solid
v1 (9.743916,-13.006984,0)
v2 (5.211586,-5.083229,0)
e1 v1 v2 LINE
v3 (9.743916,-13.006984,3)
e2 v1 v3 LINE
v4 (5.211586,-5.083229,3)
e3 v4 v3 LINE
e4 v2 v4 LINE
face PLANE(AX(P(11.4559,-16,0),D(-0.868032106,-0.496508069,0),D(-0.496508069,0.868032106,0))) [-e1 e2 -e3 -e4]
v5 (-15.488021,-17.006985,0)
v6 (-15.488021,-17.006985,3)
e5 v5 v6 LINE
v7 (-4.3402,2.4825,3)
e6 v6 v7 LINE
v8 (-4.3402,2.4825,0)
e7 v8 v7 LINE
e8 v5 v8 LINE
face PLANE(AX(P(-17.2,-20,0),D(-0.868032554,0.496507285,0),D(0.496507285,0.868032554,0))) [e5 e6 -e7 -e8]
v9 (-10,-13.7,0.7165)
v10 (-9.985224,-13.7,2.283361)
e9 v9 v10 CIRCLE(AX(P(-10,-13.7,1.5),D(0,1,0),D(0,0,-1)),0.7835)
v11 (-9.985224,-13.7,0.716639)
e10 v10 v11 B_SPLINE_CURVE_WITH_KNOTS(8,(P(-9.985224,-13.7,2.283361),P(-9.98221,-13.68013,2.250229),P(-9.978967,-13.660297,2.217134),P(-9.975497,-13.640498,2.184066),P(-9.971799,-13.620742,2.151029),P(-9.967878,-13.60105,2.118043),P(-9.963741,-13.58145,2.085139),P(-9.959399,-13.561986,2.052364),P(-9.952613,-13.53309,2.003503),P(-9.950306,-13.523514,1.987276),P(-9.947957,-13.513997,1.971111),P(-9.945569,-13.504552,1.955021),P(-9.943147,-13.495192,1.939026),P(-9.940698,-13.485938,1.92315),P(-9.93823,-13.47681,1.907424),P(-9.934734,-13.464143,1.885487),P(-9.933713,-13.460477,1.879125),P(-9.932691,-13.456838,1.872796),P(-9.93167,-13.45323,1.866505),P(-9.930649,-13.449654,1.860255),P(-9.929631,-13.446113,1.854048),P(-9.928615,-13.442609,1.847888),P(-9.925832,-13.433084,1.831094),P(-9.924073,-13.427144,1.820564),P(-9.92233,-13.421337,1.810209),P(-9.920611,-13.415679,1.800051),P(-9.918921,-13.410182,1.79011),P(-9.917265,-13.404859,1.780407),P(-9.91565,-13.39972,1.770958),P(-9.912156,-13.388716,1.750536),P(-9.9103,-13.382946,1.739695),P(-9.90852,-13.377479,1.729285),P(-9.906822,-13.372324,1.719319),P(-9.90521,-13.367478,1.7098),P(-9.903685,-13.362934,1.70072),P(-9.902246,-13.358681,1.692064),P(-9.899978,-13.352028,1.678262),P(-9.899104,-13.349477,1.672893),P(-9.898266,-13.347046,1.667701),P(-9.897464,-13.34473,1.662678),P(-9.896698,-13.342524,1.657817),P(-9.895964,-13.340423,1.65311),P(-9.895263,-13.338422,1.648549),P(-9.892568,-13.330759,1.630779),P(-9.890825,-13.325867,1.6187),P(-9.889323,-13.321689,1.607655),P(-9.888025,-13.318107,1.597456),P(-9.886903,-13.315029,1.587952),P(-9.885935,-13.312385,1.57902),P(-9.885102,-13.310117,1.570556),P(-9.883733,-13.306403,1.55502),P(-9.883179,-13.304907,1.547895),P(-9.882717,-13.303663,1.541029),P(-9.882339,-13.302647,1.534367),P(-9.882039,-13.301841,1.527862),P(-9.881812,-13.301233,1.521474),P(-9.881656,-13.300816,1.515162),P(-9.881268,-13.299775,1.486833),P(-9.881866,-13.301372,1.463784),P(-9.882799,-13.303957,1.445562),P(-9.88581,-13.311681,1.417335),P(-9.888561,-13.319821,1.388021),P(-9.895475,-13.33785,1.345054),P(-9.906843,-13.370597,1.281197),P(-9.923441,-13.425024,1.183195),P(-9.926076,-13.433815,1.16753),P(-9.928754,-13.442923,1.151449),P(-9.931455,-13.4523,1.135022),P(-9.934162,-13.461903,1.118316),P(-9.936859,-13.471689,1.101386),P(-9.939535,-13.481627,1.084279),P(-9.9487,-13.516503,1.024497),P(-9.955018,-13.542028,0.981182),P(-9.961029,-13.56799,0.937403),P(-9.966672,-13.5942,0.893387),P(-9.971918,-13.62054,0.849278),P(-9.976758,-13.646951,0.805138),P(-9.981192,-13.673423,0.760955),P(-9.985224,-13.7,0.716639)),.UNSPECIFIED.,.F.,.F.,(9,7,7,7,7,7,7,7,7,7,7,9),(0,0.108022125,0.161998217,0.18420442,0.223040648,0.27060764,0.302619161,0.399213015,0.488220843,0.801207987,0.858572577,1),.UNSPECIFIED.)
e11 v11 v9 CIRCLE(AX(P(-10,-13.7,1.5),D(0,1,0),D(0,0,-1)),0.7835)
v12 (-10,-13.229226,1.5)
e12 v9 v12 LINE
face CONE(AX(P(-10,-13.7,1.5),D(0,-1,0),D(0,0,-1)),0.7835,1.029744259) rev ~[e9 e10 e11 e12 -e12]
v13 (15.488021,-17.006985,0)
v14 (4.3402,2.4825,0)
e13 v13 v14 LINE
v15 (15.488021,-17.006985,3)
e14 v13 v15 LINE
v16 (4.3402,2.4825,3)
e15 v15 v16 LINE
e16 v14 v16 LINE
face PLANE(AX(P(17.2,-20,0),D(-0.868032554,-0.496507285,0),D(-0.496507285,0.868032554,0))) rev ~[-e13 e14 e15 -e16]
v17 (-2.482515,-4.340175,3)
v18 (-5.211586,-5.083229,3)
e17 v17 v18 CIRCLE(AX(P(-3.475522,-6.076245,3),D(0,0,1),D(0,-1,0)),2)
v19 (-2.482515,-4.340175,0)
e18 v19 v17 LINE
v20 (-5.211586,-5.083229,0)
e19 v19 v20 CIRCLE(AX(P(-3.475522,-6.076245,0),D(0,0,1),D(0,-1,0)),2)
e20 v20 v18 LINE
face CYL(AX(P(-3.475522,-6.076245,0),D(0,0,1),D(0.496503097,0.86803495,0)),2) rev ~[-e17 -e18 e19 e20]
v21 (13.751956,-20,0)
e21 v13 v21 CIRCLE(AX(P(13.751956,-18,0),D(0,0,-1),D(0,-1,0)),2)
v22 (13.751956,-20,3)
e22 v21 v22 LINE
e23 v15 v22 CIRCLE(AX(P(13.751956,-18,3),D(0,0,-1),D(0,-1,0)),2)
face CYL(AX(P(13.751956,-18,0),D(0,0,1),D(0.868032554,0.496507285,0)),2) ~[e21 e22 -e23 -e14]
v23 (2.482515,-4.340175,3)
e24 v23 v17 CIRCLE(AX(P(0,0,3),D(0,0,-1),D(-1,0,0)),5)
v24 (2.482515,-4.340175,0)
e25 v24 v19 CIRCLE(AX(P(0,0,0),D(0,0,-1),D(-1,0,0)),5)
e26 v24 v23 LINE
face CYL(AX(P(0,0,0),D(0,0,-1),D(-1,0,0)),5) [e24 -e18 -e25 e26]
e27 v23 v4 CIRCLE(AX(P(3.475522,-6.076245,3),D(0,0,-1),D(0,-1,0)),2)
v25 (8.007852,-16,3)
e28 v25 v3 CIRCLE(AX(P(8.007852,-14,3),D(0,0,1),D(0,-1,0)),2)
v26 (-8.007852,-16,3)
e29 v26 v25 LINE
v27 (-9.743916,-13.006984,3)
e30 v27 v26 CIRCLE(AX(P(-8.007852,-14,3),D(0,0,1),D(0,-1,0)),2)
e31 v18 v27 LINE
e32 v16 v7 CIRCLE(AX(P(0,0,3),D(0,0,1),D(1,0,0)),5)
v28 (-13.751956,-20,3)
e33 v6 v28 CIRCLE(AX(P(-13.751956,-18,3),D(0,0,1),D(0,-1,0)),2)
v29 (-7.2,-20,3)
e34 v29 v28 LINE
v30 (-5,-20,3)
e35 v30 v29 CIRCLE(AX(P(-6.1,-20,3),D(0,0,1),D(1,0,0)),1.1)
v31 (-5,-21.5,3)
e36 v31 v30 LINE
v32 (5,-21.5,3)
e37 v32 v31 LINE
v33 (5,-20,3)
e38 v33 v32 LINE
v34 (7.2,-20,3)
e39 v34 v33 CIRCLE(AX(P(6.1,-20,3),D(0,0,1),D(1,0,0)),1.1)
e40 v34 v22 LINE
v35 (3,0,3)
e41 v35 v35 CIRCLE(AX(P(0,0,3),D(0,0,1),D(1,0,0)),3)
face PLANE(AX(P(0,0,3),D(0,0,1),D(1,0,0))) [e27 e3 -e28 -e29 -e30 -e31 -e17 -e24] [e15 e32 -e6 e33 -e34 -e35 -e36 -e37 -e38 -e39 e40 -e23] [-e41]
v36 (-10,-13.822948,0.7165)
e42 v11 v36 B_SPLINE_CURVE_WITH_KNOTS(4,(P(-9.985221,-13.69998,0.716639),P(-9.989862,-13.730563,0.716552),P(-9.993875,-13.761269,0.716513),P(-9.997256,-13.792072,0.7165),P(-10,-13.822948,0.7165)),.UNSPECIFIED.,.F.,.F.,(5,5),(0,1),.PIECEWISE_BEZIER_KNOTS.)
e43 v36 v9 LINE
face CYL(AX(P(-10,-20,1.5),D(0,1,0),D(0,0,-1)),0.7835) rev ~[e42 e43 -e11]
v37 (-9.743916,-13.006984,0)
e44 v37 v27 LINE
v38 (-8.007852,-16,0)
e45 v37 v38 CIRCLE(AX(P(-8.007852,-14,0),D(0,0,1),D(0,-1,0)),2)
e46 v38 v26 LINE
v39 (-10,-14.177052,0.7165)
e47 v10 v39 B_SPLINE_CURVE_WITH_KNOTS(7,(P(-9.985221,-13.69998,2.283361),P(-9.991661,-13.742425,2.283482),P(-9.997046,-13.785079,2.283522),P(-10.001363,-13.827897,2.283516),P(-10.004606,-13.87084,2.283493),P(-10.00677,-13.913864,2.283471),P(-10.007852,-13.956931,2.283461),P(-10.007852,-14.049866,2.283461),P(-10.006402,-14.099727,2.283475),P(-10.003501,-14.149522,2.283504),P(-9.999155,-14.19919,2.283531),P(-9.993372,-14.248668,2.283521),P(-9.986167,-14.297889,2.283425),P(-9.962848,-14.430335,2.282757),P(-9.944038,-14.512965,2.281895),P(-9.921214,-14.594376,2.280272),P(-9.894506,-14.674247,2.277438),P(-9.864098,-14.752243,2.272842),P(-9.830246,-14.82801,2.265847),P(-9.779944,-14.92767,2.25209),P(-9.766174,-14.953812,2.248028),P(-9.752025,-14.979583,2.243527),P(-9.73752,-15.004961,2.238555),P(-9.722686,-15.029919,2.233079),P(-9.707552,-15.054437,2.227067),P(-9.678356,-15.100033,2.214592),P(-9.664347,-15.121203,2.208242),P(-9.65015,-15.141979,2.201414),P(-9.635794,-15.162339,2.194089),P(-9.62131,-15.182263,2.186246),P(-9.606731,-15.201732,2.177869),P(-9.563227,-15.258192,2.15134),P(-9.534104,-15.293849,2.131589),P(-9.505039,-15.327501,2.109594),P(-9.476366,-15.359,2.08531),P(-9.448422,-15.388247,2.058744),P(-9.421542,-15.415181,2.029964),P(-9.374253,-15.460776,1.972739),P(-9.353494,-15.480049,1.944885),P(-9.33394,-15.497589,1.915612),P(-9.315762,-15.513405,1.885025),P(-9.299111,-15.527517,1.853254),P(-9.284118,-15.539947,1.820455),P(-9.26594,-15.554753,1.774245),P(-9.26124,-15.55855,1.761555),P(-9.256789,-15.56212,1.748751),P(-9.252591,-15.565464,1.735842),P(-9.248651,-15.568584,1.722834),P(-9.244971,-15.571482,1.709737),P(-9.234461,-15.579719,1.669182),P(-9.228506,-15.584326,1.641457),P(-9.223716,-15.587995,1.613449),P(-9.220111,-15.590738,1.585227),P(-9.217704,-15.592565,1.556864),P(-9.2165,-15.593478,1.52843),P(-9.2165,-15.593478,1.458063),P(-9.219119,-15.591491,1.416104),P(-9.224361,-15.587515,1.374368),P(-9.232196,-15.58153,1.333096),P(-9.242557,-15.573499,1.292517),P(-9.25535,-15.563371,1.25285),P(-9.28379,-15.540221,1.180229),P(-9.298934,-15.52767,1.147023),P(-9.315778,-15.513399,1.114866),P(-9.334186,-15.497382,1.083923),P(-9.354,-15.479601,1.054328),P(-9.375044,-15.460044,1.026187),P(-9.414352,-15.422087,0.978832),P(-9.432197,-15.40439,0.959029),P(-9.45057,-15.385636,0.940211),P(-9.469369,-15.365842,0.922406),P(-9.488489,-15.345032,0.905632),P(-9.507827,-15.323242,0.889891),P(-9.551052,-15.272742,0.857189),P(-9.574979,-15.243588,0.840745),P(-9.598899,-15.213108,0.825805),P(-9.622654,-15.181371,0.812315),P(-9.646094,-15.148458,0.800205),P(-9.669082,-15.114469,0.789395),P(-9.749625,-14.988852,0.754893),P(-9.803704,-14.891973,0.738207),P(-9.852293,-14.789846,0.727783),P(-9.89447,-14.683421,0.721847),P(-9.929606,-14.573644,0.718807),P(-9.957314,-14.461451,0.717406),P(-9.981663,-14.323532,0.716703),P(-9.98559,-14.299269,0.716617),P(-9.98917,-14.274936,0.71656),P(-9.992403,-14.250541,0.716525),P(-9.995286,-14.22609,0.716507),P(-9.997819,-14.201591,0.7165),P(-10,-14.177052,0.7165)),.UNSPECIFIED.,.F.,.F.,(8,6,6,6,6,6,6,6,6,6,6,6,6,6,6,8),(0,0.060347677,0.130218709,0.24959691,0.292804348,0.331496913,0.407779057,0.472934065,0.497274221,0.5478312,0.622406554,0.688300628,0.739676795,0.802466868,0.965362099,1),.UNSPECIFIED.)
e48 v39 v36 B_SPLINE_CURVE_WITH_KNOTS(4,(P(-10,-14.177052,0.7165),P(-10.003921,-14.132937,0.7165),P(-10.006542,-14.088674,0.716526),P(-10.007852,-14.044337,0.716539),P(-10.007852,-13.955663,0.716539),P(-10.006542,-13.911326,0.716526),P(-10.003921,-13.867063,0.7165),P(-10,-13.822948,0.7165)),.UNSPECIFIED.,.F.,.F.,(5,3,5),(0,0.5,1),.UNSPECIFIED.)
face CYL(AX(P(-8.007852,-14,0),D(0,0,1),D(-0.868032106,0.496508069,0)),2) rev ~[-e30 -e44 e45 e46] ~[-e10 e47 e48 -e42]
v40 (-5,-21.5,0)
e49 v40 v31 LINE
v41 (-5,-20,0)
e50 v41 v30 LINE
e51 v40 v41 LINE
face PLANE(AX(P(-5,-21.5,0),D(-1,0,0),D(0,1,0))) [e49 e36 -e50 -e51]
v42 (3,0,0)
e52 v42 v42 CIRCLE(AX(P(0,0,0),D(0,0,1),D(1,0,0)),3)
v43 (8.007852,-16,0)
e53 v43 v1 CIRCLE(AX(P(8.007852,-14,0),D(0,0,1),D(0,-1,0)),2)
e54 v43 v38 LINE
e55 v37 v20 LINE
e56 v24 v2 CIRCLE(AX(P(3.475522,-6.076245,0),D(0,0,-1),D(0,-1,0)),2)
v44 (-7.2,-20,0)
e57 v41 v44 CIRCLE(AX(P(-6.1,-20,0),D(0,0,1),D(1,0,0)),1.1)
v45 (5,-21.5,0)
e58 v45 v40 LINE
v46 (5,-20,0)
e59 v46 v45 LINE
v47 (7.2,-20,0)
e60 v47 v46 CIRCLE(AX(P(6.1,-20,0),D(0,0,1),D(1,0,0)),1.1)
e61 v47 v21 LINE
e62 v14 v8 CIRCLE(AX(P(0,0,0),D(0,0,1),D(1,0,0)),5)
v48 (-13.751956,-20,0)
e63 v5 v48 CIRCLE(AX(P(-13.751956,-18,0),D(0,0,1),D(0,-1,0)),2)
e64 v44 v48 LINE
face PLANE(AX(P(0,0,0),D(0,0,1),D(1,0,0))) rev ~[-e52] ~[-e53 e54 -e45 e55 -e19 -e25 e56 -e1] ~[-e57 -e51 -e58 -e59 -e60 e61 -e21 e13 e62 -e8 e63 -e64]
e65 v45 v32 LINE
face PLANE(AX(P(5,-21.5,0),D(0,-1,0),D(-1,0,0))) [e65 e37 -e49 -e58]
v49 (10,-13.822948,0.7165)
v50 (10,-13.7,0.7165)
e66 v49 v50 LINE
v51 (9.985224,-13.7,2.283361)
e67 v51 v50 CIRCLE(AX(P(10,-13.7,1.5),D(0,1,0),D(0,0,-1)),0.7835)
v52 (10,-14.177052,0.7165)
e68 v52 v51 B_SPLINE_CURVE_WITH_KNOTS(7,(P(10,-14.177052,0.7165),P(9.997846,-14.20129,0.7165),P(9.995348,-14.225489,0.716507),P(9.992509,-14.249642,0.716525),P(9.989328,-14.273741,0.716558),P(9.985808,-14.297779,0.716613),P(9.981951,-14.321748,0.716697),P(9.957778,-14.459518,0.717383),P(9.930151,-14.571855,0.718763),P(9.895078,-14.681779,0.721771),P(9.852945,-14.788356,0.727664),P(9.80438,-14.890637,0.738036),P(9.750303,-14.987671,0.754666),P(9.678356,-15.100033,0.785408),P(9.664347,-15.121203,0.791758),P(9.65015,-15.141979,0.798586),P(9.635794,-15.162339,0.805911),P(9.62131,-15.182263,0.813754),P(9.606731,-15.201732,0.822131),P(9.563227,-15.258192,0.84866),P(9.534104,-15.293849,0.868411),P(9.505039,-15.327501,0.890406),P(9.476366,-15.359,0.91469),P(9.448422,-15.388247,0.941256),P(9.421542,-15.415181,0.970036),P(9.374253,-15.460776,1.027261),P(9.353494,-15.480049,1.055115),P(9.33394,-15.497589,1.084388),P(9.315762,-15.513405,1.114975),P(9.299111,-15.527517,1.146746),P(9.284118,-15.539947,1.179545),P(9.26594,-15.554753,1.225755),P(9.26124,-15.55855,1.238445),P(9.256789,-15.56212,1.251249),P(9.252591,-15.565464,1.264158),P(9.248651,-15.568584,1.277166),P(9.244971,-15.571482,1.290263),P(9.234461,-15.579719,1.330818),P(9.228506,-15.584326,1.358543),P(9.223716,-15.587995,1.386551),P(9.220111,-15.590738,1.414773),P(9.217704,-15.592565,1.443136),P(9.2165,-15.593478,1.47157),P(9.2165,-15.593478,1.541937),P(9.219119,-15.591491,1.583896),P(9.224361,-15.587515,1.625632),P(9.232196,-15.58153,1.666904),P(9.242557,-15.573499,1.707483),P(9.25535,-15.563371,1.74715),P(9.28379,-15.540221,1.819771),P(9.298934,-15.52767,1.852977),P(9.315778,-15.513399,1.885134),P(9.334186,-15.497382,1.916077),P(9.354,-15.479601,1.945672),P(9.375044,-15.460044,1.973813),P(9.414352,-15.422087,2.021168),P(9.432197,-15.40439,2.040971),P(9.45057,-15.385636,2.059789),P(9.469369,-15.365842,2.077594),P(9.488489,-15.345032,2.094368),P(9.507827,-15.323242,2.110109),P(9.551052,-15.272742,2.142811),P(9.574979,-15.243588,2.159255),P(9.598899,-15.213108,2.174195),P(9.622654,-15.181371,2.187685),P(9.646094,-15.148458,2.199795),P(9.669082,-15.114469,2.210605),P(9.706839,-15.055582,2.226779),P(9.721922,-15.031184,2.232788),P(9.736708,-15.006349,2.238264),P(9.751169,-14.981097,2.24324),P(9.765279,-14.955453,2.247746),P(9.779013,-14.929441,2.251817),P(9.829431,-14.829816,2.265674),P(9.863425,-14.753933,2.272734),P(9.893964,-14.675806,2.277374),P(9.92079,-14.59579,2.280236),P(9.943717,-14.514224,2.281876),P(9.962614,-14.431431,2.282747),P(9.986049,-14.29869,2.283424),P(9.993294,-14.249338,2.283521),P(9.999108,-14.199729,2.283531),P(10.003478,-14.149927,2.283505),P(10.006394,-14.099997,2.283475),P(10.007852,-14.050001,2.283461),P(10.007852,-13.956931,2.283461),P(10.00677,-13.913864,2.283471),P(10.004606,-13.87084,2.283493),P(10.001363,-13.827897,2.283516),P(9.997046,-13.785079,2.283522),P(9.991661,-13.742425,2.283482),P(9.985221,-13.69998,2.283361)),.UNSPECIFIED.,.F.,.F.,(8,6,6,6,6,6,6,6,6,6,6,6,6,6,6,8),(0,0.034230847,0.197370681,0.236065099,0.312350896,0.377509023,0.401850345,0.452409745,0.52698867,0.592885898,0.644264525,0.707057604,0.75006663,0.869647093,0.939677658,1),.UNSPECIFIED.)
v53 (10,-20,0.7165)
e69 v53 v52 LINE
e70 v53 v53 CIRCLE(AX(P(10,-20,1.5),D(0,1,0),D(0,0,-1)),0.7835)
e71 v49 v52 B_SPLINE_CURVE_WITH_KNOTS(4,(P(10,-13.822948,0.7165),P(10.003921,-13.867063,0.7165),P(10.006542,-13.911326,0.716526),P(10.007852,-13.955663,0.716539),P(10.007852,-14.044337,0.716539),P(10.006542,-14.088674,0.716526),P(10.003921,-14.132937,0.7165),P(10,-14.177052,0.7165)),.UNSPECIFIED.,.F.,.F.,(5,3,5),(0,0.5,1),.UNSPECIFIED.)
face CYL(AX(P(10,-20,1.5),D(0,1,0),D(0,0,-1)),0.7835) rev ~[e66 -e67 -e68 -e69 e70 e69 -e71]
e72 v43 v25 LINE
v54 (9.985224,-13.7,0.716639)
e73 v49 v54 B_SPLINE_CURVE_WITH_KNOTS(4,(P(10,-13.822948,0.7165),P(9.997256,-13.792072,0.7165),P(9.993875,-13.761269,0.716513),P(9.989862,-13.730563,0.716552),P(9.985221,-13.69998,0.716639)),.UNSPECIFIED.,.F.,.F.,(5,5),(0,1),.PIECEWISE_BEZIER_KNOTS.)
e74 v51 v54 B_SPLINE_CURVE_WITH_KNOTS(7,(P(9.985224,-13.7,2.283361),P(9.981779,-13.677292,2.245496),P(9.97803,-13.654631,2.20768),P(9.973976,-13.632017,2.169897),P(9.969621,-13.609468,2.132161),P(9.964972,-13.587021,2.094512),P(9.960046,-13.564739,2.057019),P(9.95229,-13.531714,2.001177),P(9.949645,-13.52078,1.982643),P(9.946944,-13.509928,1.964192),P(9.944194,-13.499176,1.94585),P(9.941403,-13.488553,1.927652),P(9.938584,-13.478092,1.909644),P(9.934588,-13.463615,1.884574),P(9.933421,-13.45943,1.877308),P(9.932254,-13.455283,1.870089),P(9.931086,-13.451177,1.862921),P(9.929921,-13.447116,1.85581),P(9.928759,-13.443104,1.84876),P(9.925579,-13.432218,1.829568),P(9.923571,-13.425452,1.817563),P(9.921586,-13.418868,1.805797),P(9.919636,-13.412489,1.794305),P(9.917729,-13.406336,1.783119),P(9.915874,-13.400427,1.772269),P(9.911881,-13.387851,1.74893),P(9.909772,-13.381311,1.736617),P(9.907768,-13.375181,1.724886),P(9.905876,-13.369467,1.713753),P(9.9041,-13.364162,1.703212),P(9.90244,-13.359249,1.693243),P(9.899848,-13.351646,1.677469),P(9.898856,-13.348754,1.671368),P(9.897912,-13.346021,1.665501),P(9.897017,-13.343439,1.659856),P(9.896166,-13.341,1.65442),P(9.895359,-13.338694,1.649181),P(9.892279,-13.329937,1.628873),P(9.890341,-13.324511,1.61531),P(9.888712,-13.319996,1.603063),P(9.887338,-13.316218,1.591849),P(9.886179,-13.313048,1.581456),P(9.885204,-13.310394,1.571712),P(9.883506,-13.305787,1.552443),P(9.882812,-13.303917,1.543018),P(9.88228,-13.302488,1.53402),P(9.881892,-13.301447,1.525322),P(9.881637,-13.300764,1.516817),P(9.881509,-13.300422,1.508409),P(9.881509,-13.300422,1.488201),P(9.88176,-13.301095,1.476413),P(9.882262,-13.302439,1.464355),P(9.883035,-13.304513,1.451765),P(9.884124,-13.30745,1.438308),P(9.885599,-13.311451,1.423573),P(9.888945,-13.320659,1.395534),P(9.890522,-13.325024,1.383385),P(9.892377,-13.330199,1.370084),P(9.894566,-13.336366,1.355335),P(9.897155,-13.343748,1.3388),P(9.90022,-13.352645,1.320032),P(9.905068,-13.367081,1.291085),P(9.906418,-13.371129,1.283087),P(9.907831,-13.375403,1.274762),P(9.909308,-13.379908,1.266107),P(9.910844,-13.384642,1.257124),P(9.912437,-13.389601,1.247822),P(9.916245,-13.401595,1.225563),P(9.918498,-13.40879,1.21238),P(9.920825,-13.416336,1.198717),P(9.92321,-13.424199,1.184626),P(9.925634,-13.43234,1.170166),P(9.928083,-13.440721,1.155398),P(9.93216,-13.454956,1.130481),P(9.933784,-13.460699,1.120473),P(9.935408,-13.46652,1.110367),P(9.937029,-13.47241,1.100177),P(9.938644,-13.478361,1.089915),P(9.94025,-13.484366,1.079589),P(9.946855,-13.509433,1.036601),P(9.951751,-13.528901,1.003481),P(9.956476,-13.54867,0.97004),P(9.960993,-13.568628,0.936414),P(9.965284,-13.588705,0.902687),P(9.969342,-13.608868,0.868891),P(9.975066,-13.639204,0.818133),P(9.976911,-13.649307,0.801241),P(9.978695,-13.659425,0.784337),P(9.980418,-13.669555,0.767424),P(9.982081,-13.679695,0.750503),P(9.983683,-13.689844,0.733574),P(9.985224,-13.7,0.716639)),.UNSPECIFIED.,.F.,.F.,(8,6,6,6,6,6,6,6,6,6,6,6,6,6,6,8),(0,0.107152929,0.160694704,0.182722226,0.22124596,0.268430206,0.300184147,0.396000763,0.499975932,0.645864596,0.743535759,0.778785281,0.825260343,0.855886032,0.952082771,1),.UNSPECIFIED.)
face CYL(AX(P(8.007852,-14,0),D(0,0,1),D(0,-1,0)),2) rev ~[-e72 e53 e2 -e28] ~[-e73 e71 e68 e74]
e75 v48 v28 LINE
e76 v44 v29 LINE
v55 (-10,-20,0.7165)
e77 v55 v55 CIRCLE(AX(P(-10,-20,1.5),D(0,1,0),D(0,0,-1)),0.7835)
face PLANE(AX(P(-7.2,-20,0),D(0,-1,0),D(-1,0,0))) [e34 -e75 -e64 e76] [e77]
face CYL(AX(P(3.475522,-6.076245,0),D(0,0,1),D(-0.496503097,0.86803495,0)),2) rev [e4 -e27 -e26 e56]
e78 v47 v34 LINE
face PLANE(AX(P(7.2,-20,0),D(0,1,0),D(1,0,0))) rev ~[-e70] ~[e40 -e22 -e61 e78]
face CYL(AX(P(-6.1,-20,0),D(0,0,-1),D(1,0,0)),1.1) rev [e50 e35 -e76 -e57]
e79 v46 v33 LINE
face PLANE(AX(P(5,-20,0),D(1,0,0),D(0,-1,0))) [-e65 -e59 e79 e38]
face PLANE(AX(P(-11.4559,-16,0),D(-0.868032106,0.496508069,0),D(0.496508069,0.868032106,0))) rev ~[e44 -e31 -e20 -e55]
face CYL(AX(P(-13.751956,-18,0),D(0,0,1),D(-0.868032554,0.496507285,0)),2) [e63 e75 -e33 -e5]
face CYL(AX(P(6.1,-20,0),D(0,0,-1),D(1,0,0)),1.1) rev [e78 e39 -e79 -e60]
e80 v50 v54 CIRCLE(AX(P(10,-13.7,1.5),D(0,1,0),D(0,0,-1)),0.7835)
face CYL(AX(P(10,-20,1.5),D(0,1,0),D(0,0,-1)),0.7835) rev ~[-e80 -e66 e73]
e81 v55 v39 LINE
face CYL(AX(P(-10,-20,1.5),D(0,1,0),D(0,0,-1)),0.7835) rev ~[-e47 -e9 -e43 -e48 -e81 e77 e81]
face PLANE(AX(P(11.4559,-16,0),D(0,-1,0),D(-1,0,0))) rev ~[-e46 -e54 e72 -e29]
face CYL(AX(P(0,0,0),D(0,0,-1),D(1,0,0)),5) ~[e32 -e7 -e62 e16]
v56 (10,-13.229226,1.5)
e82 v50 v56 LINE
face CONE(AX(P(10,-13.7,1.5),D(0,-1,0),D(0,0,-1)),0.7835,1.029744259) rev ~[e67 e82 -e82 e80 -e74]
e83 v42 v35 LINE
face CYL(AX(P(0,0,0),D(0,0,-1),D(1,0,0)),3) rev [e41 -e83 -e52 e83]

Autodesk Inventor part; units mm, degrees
ref_plane "YZ Plane" through (0, 0, 0) normal (1, 0, 0) x (0, 1, 0)
ref_plane "XZ Plane" through (0, 0, 0) normal (0, 1, 0) x (-1, 0, 0)
ref_plane "XY Plane" through (0, 0, 0) normal (0, 0, 1) x (1, 0, 0)
sketch "スケッチ1" plane through (0, 0, 0) normal (0, 0, 1) x (1, 0, 0)
  circle A0 centre (0, 0) radius 3
  circle A1 centre (0, 0) radius 5
  line L0 (-5, -20) -> (5, -20)
  line L1 (5, -20) -> (5, -21.5)
  line L2 (5, -21.5) -> (-5, -21.5)
  line L3 (-5, -21.5) -> (-5, -20)
  circle A2 centre (-6.1, -20) radius 1.1
  line L4 (0, 0) -> (0, -20) construction
  circle A3 centre (6.1, -20) radius 1.1
  line L5 (-7.2, -20) -> (-17.2, -20)
  line L6 (-17.2, -20) -> (-4.3402, 2.4825)
  line L7 (7.2, -20) -> (17.2, -20)
  line L8 (17.2, -20) -> (4.3402, 2.4825)
  point P0 (0, -21.5)
  point P1 (4.3402, 2.4825)
  dimension "d1" = 10
  dimension "d0" = 6
  dimension "d2" = 10
  dimension "d3" = 1.5
  dimension "d4" = 2.2
  dimension "d5" = 20
  dimension "d6" = 10
extrude "押し出し1" add sketch "スケッチ1" along normal blind 3 contours A1 | A1 L8 L7 A3 L0 A2 L5 L6 | L1 L2 L3 L0
fillet "フィレット1" radius 2 2 edges at (-17.2, -20, 1.5) (17.2, -20, 1.5)
sketch "スケッチ3" plane through (0, 0, 0) normal (0, 0, -1) x (-1, 0, 0)
  arc A0 (-15.488, -17.007) -> (-13.752, -20) centre (-13.752, -18) ccw projected
  line L0 (-7.2, -20) -> (-13.752, -20) projected
  arc A1 (-5, -20) -> (-7.2, -20) centre (-6.1, -20) ccw projected
  line L1 (-5, -21.5) -> (-5, -20) projected
  line L2 (5, -21.5) -> (-5, -21.5) projected
  line L3 (5, -20) -> (5, -21.5) projected
  arc A2 (7.2, -20) -> (5, -20) centre (6.1, -20) ccw projected
  line L4 (13.752, -20) -> (7.2, -20) projected
  arc A3 (13.752, -20) -> (15.488, -17.007) centre (13.752, -18) ccw projected
  line L5 (4.3402, 2.4825) -> (15.488, -17.007) projected
  arc A4 (4.3402, 2.4825) -> (-4.3402, 2.4825) centre (0, 0) ccw projected
  line L6 (-15.488, -17.007) -> (-4.3402, 2.4825) projected
  circle A5 centre (0, 0) radius 3 projected
  line L7 (-11.4559, -16) -> (11.4559, -16)
  line L8 (11.4559, -16) -> (4.0113, -2.9848)
  line L9 (-11.4559, -16) -> (-4.0113, -2.9848)
  line L10 (-15.488, -17.007) -> (-4.3402, 2.4825) projected
  circle A6 centre (0, 0) radius 5
  line L11 (5, -21.5) -> (-5, -21.5) projected
  arc A7 (4.3402, 2.4825) -> (-4.3402, 2.4825) centre (0, 0) ccw projected
  point P0 (0, -21.5)
  point P1 (0, -16)
  point P2 (0, -21.5)
  dimension "d19" = 4
  dimension "d20" = 3
extrude "押し出し2" cut sketch "スケッチ3" against normal through all contours A6 L8 L7 L9
fillet "フィレット2" radius 2 4 edges at (-4.0113, -2.9848, 1.5) (4.0113, -2.9848, 1.5) (-11.4559, -16, 1.5) (11.4559, -16, 1.5)
sketch "スケッチ2" plane through (-17.2, -20, 0) normal (0, -1, 0) x (1, 0, 0)
  line L0 (12.2, 0) -> (12.2, 3) projected
  line L1 (22.2, 0) -> (22.2, 3) projected
  point P0 (17.2, 0)
  point P1 (7.2, 1.5)
  point P2 (27.2, 1.5)
  point P3 (12.2, 1.5)
  point P4 (22.2, 1.5)
  point P5 (12.2, 1.5)
  point P6 (22.2, 1.5)
  dimension "d9" = 5
  dimension "d10" = 5
hole "穴1" at (-10, -20, 1.5) at (10, -20, 1.5) direction (0, 1, 0) diameter 1.567 depth 6.3 tip angle 118 thread size "M2x0.4" class "6H" standard "ISO Metric profile"
sketch "スケッチ4" plane through (0, 0, 0) normal (0, 0, -1) x (-1, 0, 0)
  line L0 (5.405, -15.9) -> (-14.4109, -15.9) construction
  arc A0 (-15.5215, -12.2367) -> (-14.4109, -15.9) centre (-14.4109, -13.9) ccw construction
  line L1 (-15.5215, -12.2367) -> (-4.1487, -4.643) construction
  arc A1 (-2.1701, -4.5045) -> (-4.1487, -4.643) centre (-3.0381, -6.3063) ccw construction
  arc A2 (-2.1701, -4.5045) -> (2.4825, -4.3402) centre (0, 0) ccw construction
  arc A3 (5.2116, -5.0832) -> (2.4825, -4.3402) centre (3.4756, -6.0762) ccw construction
  line L2 (5.2116, -5.0832) -> (7.3308, -8.7882) construction
  arc A4 (7.377, -10.6888) -> (7.3308, -8.7882) centre (5.5948, -9.7812) ccw projected
  arc A5 (7.377, -10.6888) -> (7.2631, -13.1601) centre (10.0503, -12.0503) ccw projected
  arc A6 (5.405, -15.9) -> (7.2631, -13.1601) centre (5.405, -13.9) ccw projected
  line L3 (4.3402, 2.4825) -> (9.529, -6.589) construction
  arc A7 (4.3402, 2.4825) -> (0, 5) centre (0, 0) ccw construction
  line L4 (-8, 5) -> (0, 5) construction
  arc A8 (-8, 5) -> (-10.7765, 4.1583) centre (-8, 0) ccw construction
  line L5 (-33.2416, -10.8417) -> (-10.7765, 4.1583) construction
  arc A9 (-33.2416, -10.8417) -> (-30.4651, -20) centre (-30.4651, -15) ccw construction
  line L6 (-7.2, -20) -> (-30.4651, -20) construction
  arc A10 (-5, -20) -> (-7.2, -20) centre (-6.1, -20) ccw construction
  line L7 (-5, -21.5) -> (-5, -20) construction
  line L8 (5, -21.5) -> (-5, -21.5) construction
  line L9 (5, -20) -> (5, -21.5) construction
  arc A11 (7.2, -20) -> (5, -20) centre (6.1, -20) ccw construction
  line L10 (15, -20) -> (7.2, -20) projected
  arc A12 (15, -20) -> (17.1213, -19.1213) centre (15, -17) ccw projected
  line L11 (17.1213, -19.1213) -> (22.0711, -14.1716) projected
  arc A13 (22.0711, -14.1716) -> (22.0711, -9.9289) centre (19.9497, -12.0503) ccw projected
  arc A14 (22.0711, -9.9289) -> (11.8876, -7.4967) centre (15, -17) ccw projected
  arc A15 (9.529, -6.589) -> (11.8876, -7.4967) centre (11.2651, -5.596) ccw projected
  arc A16 (9.2724, -11.2724) -> (10.8281, -12.8281) centre (10.0503, -12.0503) ccw projected
  arc A17 (20.7276, -11.2724) -> (9.2724, -11.2724) centre (15, -17) ccw projected
  arc A18 (19.1719, -12.8281) -> (20.7276, -11.2724) centre (19.9497, -12.0503) ccw projected
  arc A19 (19.1719, -12.8281) -> (10.8281, -12.8281) centre (15, -17) ccw projected
  line L12 (-9.6659, 2.495) -> (-32.131, -12.505) construction
  arc A20 (-6.3341, -2.495) -> (-9.6659, 2.495) centre (-8, 0) ccw construction
  line L13 (-28.7992, -17.495) -> (-6.3341, -2.495) construction
  arc A21 (-32.131, -12.505) -> (-28.7992, -17.495) centre (-30.4651, -15) ccw construction
  circle A22 centre (0, 0) radius 3 construction
  circle A23 centre (15, -17) radius 1.1 projected
  line L14 (5.405, -15.9) -> (5.405, -16)
  line L15 (8.0079, -16) -> (-8.0079, -16) projected
  arc A24 (-2.4825, -4.3402) -> (2.4825, -4.3402) centre (0, 0) ccw projected
  arc A25 (5.2116, -5.0832) -> (2.4825, -4.3402) centre (3.4756, -6.0762) ccw projected
  line L16 (5.2116, -5.0832) -> (9.744, -13.007) projected
  arc A26 (8.0079, -16) -> (9.744, -13.007) centre (8.0079, -14) ccw projected
  line L17 (8.0079, -16) -> (-8.0079, -16) projected
  arc A27 (-9.744, -13.007) -> (-8.0079, -16) centre (-8.0079, -14) ccw projected
  line L18 (-9.744, -13.007) -> (-5.2116, -5.0832) projected
  arc A28 (-2.4825, -4.3402) -> (-5.2116, -5.0832) centre (-3.4756, -6.0762) ccw projected
  arc A29 (-15.488, -17.007) -> (-13.752, -20) centre (-13.752, -18) ccw projected
  line L19 (-7.2, -20) -> (-13.752, -20) projected
  arc A30 (-5, -20) -> (-7.2, -20) centre (-6.1, -20) ccw projected
  line L20 (-5, -21.5) -> (-5, -20) projected
  line L21 (5, -21.5) -> (-5, -21.5) projected
  line L22 (5, -20) -> (5, -21.5) projected
  arc A31 (7.2, -20) -> (5, -20) centre (6.1, -20) ccw projected
  line L23 (13.752, -20) -> (7.2, -20) projected
  arc A32 (13.752, -20) -> (15.488, -17.007) centre (13.752, -18) ccw projected
  line L24 (4.3402, 2.4825) -> (15.488, -17.007) projected
  arc A33 (4.3402, 2.4825) -> (-4.3402, 2.4825) centre (0, 0) ccw projected
  line L25 (-15.488, -17.007) -> (-4.3402, 2.4825) projected
  circle A34 centre (0, 0) radius 3 projected
  point P0 (9.529, -6.589)
  point P1 (11.3484, -9.7698)
  point P2 (12.4427, -11.683)
  point P3 (14.86, -15.909)
  point P4 (15.743, -17.8111)
  point P5 (9.8052, -13.1226)
  point P6 (9.0034, -11.7124)
  point P7 (7.3308, -8.7882)
sketch "スケッチ5" plane through (0, 0, 0) normal (0, 0, -1) x (-1, 0, 0)
  circle A0 centre (15, -17) radius 2 projected
  arc A1 (20.7276, -11.2724) -> (9.2724, -11.2724) centre (15, -17) ccw projected
  arc A2 (9.2724, -11.2724) -> (10.8281, -12.8281) centre (10.0503, -12.0503) ccw projected
  arc A3 (19.1719, -12.8281) -> (10.8281, -12.8281) centre (15, -17) ccw projected
  arc A4 (19.1719, -12.8281) -> (20.7276, -11.2724) centre (19.9497, -12.0503) ccw projected
  arc A5 (18.5355, -13.4645) -> (11.4645, -13.4645) centre (15, -17) ccw projected
  arc A6 (8.636, -10.636) -> (11.4645, -13.4645) centre (10.0503, -12.0503) ccw projected
  arc A7 (21.364, -10.636) -> (8.636, -10.636) centre (15, -17) ccw projected
  arc A8 (18.5355, -13.4645) -> (21.364, -10.636) centre (19.9497, -12.0503) ccw projected
  point P0 (0, 0)
equation "\"d10\" = d9"
properties part number "kosipiti" material "アルミニウム 2014-T4"
